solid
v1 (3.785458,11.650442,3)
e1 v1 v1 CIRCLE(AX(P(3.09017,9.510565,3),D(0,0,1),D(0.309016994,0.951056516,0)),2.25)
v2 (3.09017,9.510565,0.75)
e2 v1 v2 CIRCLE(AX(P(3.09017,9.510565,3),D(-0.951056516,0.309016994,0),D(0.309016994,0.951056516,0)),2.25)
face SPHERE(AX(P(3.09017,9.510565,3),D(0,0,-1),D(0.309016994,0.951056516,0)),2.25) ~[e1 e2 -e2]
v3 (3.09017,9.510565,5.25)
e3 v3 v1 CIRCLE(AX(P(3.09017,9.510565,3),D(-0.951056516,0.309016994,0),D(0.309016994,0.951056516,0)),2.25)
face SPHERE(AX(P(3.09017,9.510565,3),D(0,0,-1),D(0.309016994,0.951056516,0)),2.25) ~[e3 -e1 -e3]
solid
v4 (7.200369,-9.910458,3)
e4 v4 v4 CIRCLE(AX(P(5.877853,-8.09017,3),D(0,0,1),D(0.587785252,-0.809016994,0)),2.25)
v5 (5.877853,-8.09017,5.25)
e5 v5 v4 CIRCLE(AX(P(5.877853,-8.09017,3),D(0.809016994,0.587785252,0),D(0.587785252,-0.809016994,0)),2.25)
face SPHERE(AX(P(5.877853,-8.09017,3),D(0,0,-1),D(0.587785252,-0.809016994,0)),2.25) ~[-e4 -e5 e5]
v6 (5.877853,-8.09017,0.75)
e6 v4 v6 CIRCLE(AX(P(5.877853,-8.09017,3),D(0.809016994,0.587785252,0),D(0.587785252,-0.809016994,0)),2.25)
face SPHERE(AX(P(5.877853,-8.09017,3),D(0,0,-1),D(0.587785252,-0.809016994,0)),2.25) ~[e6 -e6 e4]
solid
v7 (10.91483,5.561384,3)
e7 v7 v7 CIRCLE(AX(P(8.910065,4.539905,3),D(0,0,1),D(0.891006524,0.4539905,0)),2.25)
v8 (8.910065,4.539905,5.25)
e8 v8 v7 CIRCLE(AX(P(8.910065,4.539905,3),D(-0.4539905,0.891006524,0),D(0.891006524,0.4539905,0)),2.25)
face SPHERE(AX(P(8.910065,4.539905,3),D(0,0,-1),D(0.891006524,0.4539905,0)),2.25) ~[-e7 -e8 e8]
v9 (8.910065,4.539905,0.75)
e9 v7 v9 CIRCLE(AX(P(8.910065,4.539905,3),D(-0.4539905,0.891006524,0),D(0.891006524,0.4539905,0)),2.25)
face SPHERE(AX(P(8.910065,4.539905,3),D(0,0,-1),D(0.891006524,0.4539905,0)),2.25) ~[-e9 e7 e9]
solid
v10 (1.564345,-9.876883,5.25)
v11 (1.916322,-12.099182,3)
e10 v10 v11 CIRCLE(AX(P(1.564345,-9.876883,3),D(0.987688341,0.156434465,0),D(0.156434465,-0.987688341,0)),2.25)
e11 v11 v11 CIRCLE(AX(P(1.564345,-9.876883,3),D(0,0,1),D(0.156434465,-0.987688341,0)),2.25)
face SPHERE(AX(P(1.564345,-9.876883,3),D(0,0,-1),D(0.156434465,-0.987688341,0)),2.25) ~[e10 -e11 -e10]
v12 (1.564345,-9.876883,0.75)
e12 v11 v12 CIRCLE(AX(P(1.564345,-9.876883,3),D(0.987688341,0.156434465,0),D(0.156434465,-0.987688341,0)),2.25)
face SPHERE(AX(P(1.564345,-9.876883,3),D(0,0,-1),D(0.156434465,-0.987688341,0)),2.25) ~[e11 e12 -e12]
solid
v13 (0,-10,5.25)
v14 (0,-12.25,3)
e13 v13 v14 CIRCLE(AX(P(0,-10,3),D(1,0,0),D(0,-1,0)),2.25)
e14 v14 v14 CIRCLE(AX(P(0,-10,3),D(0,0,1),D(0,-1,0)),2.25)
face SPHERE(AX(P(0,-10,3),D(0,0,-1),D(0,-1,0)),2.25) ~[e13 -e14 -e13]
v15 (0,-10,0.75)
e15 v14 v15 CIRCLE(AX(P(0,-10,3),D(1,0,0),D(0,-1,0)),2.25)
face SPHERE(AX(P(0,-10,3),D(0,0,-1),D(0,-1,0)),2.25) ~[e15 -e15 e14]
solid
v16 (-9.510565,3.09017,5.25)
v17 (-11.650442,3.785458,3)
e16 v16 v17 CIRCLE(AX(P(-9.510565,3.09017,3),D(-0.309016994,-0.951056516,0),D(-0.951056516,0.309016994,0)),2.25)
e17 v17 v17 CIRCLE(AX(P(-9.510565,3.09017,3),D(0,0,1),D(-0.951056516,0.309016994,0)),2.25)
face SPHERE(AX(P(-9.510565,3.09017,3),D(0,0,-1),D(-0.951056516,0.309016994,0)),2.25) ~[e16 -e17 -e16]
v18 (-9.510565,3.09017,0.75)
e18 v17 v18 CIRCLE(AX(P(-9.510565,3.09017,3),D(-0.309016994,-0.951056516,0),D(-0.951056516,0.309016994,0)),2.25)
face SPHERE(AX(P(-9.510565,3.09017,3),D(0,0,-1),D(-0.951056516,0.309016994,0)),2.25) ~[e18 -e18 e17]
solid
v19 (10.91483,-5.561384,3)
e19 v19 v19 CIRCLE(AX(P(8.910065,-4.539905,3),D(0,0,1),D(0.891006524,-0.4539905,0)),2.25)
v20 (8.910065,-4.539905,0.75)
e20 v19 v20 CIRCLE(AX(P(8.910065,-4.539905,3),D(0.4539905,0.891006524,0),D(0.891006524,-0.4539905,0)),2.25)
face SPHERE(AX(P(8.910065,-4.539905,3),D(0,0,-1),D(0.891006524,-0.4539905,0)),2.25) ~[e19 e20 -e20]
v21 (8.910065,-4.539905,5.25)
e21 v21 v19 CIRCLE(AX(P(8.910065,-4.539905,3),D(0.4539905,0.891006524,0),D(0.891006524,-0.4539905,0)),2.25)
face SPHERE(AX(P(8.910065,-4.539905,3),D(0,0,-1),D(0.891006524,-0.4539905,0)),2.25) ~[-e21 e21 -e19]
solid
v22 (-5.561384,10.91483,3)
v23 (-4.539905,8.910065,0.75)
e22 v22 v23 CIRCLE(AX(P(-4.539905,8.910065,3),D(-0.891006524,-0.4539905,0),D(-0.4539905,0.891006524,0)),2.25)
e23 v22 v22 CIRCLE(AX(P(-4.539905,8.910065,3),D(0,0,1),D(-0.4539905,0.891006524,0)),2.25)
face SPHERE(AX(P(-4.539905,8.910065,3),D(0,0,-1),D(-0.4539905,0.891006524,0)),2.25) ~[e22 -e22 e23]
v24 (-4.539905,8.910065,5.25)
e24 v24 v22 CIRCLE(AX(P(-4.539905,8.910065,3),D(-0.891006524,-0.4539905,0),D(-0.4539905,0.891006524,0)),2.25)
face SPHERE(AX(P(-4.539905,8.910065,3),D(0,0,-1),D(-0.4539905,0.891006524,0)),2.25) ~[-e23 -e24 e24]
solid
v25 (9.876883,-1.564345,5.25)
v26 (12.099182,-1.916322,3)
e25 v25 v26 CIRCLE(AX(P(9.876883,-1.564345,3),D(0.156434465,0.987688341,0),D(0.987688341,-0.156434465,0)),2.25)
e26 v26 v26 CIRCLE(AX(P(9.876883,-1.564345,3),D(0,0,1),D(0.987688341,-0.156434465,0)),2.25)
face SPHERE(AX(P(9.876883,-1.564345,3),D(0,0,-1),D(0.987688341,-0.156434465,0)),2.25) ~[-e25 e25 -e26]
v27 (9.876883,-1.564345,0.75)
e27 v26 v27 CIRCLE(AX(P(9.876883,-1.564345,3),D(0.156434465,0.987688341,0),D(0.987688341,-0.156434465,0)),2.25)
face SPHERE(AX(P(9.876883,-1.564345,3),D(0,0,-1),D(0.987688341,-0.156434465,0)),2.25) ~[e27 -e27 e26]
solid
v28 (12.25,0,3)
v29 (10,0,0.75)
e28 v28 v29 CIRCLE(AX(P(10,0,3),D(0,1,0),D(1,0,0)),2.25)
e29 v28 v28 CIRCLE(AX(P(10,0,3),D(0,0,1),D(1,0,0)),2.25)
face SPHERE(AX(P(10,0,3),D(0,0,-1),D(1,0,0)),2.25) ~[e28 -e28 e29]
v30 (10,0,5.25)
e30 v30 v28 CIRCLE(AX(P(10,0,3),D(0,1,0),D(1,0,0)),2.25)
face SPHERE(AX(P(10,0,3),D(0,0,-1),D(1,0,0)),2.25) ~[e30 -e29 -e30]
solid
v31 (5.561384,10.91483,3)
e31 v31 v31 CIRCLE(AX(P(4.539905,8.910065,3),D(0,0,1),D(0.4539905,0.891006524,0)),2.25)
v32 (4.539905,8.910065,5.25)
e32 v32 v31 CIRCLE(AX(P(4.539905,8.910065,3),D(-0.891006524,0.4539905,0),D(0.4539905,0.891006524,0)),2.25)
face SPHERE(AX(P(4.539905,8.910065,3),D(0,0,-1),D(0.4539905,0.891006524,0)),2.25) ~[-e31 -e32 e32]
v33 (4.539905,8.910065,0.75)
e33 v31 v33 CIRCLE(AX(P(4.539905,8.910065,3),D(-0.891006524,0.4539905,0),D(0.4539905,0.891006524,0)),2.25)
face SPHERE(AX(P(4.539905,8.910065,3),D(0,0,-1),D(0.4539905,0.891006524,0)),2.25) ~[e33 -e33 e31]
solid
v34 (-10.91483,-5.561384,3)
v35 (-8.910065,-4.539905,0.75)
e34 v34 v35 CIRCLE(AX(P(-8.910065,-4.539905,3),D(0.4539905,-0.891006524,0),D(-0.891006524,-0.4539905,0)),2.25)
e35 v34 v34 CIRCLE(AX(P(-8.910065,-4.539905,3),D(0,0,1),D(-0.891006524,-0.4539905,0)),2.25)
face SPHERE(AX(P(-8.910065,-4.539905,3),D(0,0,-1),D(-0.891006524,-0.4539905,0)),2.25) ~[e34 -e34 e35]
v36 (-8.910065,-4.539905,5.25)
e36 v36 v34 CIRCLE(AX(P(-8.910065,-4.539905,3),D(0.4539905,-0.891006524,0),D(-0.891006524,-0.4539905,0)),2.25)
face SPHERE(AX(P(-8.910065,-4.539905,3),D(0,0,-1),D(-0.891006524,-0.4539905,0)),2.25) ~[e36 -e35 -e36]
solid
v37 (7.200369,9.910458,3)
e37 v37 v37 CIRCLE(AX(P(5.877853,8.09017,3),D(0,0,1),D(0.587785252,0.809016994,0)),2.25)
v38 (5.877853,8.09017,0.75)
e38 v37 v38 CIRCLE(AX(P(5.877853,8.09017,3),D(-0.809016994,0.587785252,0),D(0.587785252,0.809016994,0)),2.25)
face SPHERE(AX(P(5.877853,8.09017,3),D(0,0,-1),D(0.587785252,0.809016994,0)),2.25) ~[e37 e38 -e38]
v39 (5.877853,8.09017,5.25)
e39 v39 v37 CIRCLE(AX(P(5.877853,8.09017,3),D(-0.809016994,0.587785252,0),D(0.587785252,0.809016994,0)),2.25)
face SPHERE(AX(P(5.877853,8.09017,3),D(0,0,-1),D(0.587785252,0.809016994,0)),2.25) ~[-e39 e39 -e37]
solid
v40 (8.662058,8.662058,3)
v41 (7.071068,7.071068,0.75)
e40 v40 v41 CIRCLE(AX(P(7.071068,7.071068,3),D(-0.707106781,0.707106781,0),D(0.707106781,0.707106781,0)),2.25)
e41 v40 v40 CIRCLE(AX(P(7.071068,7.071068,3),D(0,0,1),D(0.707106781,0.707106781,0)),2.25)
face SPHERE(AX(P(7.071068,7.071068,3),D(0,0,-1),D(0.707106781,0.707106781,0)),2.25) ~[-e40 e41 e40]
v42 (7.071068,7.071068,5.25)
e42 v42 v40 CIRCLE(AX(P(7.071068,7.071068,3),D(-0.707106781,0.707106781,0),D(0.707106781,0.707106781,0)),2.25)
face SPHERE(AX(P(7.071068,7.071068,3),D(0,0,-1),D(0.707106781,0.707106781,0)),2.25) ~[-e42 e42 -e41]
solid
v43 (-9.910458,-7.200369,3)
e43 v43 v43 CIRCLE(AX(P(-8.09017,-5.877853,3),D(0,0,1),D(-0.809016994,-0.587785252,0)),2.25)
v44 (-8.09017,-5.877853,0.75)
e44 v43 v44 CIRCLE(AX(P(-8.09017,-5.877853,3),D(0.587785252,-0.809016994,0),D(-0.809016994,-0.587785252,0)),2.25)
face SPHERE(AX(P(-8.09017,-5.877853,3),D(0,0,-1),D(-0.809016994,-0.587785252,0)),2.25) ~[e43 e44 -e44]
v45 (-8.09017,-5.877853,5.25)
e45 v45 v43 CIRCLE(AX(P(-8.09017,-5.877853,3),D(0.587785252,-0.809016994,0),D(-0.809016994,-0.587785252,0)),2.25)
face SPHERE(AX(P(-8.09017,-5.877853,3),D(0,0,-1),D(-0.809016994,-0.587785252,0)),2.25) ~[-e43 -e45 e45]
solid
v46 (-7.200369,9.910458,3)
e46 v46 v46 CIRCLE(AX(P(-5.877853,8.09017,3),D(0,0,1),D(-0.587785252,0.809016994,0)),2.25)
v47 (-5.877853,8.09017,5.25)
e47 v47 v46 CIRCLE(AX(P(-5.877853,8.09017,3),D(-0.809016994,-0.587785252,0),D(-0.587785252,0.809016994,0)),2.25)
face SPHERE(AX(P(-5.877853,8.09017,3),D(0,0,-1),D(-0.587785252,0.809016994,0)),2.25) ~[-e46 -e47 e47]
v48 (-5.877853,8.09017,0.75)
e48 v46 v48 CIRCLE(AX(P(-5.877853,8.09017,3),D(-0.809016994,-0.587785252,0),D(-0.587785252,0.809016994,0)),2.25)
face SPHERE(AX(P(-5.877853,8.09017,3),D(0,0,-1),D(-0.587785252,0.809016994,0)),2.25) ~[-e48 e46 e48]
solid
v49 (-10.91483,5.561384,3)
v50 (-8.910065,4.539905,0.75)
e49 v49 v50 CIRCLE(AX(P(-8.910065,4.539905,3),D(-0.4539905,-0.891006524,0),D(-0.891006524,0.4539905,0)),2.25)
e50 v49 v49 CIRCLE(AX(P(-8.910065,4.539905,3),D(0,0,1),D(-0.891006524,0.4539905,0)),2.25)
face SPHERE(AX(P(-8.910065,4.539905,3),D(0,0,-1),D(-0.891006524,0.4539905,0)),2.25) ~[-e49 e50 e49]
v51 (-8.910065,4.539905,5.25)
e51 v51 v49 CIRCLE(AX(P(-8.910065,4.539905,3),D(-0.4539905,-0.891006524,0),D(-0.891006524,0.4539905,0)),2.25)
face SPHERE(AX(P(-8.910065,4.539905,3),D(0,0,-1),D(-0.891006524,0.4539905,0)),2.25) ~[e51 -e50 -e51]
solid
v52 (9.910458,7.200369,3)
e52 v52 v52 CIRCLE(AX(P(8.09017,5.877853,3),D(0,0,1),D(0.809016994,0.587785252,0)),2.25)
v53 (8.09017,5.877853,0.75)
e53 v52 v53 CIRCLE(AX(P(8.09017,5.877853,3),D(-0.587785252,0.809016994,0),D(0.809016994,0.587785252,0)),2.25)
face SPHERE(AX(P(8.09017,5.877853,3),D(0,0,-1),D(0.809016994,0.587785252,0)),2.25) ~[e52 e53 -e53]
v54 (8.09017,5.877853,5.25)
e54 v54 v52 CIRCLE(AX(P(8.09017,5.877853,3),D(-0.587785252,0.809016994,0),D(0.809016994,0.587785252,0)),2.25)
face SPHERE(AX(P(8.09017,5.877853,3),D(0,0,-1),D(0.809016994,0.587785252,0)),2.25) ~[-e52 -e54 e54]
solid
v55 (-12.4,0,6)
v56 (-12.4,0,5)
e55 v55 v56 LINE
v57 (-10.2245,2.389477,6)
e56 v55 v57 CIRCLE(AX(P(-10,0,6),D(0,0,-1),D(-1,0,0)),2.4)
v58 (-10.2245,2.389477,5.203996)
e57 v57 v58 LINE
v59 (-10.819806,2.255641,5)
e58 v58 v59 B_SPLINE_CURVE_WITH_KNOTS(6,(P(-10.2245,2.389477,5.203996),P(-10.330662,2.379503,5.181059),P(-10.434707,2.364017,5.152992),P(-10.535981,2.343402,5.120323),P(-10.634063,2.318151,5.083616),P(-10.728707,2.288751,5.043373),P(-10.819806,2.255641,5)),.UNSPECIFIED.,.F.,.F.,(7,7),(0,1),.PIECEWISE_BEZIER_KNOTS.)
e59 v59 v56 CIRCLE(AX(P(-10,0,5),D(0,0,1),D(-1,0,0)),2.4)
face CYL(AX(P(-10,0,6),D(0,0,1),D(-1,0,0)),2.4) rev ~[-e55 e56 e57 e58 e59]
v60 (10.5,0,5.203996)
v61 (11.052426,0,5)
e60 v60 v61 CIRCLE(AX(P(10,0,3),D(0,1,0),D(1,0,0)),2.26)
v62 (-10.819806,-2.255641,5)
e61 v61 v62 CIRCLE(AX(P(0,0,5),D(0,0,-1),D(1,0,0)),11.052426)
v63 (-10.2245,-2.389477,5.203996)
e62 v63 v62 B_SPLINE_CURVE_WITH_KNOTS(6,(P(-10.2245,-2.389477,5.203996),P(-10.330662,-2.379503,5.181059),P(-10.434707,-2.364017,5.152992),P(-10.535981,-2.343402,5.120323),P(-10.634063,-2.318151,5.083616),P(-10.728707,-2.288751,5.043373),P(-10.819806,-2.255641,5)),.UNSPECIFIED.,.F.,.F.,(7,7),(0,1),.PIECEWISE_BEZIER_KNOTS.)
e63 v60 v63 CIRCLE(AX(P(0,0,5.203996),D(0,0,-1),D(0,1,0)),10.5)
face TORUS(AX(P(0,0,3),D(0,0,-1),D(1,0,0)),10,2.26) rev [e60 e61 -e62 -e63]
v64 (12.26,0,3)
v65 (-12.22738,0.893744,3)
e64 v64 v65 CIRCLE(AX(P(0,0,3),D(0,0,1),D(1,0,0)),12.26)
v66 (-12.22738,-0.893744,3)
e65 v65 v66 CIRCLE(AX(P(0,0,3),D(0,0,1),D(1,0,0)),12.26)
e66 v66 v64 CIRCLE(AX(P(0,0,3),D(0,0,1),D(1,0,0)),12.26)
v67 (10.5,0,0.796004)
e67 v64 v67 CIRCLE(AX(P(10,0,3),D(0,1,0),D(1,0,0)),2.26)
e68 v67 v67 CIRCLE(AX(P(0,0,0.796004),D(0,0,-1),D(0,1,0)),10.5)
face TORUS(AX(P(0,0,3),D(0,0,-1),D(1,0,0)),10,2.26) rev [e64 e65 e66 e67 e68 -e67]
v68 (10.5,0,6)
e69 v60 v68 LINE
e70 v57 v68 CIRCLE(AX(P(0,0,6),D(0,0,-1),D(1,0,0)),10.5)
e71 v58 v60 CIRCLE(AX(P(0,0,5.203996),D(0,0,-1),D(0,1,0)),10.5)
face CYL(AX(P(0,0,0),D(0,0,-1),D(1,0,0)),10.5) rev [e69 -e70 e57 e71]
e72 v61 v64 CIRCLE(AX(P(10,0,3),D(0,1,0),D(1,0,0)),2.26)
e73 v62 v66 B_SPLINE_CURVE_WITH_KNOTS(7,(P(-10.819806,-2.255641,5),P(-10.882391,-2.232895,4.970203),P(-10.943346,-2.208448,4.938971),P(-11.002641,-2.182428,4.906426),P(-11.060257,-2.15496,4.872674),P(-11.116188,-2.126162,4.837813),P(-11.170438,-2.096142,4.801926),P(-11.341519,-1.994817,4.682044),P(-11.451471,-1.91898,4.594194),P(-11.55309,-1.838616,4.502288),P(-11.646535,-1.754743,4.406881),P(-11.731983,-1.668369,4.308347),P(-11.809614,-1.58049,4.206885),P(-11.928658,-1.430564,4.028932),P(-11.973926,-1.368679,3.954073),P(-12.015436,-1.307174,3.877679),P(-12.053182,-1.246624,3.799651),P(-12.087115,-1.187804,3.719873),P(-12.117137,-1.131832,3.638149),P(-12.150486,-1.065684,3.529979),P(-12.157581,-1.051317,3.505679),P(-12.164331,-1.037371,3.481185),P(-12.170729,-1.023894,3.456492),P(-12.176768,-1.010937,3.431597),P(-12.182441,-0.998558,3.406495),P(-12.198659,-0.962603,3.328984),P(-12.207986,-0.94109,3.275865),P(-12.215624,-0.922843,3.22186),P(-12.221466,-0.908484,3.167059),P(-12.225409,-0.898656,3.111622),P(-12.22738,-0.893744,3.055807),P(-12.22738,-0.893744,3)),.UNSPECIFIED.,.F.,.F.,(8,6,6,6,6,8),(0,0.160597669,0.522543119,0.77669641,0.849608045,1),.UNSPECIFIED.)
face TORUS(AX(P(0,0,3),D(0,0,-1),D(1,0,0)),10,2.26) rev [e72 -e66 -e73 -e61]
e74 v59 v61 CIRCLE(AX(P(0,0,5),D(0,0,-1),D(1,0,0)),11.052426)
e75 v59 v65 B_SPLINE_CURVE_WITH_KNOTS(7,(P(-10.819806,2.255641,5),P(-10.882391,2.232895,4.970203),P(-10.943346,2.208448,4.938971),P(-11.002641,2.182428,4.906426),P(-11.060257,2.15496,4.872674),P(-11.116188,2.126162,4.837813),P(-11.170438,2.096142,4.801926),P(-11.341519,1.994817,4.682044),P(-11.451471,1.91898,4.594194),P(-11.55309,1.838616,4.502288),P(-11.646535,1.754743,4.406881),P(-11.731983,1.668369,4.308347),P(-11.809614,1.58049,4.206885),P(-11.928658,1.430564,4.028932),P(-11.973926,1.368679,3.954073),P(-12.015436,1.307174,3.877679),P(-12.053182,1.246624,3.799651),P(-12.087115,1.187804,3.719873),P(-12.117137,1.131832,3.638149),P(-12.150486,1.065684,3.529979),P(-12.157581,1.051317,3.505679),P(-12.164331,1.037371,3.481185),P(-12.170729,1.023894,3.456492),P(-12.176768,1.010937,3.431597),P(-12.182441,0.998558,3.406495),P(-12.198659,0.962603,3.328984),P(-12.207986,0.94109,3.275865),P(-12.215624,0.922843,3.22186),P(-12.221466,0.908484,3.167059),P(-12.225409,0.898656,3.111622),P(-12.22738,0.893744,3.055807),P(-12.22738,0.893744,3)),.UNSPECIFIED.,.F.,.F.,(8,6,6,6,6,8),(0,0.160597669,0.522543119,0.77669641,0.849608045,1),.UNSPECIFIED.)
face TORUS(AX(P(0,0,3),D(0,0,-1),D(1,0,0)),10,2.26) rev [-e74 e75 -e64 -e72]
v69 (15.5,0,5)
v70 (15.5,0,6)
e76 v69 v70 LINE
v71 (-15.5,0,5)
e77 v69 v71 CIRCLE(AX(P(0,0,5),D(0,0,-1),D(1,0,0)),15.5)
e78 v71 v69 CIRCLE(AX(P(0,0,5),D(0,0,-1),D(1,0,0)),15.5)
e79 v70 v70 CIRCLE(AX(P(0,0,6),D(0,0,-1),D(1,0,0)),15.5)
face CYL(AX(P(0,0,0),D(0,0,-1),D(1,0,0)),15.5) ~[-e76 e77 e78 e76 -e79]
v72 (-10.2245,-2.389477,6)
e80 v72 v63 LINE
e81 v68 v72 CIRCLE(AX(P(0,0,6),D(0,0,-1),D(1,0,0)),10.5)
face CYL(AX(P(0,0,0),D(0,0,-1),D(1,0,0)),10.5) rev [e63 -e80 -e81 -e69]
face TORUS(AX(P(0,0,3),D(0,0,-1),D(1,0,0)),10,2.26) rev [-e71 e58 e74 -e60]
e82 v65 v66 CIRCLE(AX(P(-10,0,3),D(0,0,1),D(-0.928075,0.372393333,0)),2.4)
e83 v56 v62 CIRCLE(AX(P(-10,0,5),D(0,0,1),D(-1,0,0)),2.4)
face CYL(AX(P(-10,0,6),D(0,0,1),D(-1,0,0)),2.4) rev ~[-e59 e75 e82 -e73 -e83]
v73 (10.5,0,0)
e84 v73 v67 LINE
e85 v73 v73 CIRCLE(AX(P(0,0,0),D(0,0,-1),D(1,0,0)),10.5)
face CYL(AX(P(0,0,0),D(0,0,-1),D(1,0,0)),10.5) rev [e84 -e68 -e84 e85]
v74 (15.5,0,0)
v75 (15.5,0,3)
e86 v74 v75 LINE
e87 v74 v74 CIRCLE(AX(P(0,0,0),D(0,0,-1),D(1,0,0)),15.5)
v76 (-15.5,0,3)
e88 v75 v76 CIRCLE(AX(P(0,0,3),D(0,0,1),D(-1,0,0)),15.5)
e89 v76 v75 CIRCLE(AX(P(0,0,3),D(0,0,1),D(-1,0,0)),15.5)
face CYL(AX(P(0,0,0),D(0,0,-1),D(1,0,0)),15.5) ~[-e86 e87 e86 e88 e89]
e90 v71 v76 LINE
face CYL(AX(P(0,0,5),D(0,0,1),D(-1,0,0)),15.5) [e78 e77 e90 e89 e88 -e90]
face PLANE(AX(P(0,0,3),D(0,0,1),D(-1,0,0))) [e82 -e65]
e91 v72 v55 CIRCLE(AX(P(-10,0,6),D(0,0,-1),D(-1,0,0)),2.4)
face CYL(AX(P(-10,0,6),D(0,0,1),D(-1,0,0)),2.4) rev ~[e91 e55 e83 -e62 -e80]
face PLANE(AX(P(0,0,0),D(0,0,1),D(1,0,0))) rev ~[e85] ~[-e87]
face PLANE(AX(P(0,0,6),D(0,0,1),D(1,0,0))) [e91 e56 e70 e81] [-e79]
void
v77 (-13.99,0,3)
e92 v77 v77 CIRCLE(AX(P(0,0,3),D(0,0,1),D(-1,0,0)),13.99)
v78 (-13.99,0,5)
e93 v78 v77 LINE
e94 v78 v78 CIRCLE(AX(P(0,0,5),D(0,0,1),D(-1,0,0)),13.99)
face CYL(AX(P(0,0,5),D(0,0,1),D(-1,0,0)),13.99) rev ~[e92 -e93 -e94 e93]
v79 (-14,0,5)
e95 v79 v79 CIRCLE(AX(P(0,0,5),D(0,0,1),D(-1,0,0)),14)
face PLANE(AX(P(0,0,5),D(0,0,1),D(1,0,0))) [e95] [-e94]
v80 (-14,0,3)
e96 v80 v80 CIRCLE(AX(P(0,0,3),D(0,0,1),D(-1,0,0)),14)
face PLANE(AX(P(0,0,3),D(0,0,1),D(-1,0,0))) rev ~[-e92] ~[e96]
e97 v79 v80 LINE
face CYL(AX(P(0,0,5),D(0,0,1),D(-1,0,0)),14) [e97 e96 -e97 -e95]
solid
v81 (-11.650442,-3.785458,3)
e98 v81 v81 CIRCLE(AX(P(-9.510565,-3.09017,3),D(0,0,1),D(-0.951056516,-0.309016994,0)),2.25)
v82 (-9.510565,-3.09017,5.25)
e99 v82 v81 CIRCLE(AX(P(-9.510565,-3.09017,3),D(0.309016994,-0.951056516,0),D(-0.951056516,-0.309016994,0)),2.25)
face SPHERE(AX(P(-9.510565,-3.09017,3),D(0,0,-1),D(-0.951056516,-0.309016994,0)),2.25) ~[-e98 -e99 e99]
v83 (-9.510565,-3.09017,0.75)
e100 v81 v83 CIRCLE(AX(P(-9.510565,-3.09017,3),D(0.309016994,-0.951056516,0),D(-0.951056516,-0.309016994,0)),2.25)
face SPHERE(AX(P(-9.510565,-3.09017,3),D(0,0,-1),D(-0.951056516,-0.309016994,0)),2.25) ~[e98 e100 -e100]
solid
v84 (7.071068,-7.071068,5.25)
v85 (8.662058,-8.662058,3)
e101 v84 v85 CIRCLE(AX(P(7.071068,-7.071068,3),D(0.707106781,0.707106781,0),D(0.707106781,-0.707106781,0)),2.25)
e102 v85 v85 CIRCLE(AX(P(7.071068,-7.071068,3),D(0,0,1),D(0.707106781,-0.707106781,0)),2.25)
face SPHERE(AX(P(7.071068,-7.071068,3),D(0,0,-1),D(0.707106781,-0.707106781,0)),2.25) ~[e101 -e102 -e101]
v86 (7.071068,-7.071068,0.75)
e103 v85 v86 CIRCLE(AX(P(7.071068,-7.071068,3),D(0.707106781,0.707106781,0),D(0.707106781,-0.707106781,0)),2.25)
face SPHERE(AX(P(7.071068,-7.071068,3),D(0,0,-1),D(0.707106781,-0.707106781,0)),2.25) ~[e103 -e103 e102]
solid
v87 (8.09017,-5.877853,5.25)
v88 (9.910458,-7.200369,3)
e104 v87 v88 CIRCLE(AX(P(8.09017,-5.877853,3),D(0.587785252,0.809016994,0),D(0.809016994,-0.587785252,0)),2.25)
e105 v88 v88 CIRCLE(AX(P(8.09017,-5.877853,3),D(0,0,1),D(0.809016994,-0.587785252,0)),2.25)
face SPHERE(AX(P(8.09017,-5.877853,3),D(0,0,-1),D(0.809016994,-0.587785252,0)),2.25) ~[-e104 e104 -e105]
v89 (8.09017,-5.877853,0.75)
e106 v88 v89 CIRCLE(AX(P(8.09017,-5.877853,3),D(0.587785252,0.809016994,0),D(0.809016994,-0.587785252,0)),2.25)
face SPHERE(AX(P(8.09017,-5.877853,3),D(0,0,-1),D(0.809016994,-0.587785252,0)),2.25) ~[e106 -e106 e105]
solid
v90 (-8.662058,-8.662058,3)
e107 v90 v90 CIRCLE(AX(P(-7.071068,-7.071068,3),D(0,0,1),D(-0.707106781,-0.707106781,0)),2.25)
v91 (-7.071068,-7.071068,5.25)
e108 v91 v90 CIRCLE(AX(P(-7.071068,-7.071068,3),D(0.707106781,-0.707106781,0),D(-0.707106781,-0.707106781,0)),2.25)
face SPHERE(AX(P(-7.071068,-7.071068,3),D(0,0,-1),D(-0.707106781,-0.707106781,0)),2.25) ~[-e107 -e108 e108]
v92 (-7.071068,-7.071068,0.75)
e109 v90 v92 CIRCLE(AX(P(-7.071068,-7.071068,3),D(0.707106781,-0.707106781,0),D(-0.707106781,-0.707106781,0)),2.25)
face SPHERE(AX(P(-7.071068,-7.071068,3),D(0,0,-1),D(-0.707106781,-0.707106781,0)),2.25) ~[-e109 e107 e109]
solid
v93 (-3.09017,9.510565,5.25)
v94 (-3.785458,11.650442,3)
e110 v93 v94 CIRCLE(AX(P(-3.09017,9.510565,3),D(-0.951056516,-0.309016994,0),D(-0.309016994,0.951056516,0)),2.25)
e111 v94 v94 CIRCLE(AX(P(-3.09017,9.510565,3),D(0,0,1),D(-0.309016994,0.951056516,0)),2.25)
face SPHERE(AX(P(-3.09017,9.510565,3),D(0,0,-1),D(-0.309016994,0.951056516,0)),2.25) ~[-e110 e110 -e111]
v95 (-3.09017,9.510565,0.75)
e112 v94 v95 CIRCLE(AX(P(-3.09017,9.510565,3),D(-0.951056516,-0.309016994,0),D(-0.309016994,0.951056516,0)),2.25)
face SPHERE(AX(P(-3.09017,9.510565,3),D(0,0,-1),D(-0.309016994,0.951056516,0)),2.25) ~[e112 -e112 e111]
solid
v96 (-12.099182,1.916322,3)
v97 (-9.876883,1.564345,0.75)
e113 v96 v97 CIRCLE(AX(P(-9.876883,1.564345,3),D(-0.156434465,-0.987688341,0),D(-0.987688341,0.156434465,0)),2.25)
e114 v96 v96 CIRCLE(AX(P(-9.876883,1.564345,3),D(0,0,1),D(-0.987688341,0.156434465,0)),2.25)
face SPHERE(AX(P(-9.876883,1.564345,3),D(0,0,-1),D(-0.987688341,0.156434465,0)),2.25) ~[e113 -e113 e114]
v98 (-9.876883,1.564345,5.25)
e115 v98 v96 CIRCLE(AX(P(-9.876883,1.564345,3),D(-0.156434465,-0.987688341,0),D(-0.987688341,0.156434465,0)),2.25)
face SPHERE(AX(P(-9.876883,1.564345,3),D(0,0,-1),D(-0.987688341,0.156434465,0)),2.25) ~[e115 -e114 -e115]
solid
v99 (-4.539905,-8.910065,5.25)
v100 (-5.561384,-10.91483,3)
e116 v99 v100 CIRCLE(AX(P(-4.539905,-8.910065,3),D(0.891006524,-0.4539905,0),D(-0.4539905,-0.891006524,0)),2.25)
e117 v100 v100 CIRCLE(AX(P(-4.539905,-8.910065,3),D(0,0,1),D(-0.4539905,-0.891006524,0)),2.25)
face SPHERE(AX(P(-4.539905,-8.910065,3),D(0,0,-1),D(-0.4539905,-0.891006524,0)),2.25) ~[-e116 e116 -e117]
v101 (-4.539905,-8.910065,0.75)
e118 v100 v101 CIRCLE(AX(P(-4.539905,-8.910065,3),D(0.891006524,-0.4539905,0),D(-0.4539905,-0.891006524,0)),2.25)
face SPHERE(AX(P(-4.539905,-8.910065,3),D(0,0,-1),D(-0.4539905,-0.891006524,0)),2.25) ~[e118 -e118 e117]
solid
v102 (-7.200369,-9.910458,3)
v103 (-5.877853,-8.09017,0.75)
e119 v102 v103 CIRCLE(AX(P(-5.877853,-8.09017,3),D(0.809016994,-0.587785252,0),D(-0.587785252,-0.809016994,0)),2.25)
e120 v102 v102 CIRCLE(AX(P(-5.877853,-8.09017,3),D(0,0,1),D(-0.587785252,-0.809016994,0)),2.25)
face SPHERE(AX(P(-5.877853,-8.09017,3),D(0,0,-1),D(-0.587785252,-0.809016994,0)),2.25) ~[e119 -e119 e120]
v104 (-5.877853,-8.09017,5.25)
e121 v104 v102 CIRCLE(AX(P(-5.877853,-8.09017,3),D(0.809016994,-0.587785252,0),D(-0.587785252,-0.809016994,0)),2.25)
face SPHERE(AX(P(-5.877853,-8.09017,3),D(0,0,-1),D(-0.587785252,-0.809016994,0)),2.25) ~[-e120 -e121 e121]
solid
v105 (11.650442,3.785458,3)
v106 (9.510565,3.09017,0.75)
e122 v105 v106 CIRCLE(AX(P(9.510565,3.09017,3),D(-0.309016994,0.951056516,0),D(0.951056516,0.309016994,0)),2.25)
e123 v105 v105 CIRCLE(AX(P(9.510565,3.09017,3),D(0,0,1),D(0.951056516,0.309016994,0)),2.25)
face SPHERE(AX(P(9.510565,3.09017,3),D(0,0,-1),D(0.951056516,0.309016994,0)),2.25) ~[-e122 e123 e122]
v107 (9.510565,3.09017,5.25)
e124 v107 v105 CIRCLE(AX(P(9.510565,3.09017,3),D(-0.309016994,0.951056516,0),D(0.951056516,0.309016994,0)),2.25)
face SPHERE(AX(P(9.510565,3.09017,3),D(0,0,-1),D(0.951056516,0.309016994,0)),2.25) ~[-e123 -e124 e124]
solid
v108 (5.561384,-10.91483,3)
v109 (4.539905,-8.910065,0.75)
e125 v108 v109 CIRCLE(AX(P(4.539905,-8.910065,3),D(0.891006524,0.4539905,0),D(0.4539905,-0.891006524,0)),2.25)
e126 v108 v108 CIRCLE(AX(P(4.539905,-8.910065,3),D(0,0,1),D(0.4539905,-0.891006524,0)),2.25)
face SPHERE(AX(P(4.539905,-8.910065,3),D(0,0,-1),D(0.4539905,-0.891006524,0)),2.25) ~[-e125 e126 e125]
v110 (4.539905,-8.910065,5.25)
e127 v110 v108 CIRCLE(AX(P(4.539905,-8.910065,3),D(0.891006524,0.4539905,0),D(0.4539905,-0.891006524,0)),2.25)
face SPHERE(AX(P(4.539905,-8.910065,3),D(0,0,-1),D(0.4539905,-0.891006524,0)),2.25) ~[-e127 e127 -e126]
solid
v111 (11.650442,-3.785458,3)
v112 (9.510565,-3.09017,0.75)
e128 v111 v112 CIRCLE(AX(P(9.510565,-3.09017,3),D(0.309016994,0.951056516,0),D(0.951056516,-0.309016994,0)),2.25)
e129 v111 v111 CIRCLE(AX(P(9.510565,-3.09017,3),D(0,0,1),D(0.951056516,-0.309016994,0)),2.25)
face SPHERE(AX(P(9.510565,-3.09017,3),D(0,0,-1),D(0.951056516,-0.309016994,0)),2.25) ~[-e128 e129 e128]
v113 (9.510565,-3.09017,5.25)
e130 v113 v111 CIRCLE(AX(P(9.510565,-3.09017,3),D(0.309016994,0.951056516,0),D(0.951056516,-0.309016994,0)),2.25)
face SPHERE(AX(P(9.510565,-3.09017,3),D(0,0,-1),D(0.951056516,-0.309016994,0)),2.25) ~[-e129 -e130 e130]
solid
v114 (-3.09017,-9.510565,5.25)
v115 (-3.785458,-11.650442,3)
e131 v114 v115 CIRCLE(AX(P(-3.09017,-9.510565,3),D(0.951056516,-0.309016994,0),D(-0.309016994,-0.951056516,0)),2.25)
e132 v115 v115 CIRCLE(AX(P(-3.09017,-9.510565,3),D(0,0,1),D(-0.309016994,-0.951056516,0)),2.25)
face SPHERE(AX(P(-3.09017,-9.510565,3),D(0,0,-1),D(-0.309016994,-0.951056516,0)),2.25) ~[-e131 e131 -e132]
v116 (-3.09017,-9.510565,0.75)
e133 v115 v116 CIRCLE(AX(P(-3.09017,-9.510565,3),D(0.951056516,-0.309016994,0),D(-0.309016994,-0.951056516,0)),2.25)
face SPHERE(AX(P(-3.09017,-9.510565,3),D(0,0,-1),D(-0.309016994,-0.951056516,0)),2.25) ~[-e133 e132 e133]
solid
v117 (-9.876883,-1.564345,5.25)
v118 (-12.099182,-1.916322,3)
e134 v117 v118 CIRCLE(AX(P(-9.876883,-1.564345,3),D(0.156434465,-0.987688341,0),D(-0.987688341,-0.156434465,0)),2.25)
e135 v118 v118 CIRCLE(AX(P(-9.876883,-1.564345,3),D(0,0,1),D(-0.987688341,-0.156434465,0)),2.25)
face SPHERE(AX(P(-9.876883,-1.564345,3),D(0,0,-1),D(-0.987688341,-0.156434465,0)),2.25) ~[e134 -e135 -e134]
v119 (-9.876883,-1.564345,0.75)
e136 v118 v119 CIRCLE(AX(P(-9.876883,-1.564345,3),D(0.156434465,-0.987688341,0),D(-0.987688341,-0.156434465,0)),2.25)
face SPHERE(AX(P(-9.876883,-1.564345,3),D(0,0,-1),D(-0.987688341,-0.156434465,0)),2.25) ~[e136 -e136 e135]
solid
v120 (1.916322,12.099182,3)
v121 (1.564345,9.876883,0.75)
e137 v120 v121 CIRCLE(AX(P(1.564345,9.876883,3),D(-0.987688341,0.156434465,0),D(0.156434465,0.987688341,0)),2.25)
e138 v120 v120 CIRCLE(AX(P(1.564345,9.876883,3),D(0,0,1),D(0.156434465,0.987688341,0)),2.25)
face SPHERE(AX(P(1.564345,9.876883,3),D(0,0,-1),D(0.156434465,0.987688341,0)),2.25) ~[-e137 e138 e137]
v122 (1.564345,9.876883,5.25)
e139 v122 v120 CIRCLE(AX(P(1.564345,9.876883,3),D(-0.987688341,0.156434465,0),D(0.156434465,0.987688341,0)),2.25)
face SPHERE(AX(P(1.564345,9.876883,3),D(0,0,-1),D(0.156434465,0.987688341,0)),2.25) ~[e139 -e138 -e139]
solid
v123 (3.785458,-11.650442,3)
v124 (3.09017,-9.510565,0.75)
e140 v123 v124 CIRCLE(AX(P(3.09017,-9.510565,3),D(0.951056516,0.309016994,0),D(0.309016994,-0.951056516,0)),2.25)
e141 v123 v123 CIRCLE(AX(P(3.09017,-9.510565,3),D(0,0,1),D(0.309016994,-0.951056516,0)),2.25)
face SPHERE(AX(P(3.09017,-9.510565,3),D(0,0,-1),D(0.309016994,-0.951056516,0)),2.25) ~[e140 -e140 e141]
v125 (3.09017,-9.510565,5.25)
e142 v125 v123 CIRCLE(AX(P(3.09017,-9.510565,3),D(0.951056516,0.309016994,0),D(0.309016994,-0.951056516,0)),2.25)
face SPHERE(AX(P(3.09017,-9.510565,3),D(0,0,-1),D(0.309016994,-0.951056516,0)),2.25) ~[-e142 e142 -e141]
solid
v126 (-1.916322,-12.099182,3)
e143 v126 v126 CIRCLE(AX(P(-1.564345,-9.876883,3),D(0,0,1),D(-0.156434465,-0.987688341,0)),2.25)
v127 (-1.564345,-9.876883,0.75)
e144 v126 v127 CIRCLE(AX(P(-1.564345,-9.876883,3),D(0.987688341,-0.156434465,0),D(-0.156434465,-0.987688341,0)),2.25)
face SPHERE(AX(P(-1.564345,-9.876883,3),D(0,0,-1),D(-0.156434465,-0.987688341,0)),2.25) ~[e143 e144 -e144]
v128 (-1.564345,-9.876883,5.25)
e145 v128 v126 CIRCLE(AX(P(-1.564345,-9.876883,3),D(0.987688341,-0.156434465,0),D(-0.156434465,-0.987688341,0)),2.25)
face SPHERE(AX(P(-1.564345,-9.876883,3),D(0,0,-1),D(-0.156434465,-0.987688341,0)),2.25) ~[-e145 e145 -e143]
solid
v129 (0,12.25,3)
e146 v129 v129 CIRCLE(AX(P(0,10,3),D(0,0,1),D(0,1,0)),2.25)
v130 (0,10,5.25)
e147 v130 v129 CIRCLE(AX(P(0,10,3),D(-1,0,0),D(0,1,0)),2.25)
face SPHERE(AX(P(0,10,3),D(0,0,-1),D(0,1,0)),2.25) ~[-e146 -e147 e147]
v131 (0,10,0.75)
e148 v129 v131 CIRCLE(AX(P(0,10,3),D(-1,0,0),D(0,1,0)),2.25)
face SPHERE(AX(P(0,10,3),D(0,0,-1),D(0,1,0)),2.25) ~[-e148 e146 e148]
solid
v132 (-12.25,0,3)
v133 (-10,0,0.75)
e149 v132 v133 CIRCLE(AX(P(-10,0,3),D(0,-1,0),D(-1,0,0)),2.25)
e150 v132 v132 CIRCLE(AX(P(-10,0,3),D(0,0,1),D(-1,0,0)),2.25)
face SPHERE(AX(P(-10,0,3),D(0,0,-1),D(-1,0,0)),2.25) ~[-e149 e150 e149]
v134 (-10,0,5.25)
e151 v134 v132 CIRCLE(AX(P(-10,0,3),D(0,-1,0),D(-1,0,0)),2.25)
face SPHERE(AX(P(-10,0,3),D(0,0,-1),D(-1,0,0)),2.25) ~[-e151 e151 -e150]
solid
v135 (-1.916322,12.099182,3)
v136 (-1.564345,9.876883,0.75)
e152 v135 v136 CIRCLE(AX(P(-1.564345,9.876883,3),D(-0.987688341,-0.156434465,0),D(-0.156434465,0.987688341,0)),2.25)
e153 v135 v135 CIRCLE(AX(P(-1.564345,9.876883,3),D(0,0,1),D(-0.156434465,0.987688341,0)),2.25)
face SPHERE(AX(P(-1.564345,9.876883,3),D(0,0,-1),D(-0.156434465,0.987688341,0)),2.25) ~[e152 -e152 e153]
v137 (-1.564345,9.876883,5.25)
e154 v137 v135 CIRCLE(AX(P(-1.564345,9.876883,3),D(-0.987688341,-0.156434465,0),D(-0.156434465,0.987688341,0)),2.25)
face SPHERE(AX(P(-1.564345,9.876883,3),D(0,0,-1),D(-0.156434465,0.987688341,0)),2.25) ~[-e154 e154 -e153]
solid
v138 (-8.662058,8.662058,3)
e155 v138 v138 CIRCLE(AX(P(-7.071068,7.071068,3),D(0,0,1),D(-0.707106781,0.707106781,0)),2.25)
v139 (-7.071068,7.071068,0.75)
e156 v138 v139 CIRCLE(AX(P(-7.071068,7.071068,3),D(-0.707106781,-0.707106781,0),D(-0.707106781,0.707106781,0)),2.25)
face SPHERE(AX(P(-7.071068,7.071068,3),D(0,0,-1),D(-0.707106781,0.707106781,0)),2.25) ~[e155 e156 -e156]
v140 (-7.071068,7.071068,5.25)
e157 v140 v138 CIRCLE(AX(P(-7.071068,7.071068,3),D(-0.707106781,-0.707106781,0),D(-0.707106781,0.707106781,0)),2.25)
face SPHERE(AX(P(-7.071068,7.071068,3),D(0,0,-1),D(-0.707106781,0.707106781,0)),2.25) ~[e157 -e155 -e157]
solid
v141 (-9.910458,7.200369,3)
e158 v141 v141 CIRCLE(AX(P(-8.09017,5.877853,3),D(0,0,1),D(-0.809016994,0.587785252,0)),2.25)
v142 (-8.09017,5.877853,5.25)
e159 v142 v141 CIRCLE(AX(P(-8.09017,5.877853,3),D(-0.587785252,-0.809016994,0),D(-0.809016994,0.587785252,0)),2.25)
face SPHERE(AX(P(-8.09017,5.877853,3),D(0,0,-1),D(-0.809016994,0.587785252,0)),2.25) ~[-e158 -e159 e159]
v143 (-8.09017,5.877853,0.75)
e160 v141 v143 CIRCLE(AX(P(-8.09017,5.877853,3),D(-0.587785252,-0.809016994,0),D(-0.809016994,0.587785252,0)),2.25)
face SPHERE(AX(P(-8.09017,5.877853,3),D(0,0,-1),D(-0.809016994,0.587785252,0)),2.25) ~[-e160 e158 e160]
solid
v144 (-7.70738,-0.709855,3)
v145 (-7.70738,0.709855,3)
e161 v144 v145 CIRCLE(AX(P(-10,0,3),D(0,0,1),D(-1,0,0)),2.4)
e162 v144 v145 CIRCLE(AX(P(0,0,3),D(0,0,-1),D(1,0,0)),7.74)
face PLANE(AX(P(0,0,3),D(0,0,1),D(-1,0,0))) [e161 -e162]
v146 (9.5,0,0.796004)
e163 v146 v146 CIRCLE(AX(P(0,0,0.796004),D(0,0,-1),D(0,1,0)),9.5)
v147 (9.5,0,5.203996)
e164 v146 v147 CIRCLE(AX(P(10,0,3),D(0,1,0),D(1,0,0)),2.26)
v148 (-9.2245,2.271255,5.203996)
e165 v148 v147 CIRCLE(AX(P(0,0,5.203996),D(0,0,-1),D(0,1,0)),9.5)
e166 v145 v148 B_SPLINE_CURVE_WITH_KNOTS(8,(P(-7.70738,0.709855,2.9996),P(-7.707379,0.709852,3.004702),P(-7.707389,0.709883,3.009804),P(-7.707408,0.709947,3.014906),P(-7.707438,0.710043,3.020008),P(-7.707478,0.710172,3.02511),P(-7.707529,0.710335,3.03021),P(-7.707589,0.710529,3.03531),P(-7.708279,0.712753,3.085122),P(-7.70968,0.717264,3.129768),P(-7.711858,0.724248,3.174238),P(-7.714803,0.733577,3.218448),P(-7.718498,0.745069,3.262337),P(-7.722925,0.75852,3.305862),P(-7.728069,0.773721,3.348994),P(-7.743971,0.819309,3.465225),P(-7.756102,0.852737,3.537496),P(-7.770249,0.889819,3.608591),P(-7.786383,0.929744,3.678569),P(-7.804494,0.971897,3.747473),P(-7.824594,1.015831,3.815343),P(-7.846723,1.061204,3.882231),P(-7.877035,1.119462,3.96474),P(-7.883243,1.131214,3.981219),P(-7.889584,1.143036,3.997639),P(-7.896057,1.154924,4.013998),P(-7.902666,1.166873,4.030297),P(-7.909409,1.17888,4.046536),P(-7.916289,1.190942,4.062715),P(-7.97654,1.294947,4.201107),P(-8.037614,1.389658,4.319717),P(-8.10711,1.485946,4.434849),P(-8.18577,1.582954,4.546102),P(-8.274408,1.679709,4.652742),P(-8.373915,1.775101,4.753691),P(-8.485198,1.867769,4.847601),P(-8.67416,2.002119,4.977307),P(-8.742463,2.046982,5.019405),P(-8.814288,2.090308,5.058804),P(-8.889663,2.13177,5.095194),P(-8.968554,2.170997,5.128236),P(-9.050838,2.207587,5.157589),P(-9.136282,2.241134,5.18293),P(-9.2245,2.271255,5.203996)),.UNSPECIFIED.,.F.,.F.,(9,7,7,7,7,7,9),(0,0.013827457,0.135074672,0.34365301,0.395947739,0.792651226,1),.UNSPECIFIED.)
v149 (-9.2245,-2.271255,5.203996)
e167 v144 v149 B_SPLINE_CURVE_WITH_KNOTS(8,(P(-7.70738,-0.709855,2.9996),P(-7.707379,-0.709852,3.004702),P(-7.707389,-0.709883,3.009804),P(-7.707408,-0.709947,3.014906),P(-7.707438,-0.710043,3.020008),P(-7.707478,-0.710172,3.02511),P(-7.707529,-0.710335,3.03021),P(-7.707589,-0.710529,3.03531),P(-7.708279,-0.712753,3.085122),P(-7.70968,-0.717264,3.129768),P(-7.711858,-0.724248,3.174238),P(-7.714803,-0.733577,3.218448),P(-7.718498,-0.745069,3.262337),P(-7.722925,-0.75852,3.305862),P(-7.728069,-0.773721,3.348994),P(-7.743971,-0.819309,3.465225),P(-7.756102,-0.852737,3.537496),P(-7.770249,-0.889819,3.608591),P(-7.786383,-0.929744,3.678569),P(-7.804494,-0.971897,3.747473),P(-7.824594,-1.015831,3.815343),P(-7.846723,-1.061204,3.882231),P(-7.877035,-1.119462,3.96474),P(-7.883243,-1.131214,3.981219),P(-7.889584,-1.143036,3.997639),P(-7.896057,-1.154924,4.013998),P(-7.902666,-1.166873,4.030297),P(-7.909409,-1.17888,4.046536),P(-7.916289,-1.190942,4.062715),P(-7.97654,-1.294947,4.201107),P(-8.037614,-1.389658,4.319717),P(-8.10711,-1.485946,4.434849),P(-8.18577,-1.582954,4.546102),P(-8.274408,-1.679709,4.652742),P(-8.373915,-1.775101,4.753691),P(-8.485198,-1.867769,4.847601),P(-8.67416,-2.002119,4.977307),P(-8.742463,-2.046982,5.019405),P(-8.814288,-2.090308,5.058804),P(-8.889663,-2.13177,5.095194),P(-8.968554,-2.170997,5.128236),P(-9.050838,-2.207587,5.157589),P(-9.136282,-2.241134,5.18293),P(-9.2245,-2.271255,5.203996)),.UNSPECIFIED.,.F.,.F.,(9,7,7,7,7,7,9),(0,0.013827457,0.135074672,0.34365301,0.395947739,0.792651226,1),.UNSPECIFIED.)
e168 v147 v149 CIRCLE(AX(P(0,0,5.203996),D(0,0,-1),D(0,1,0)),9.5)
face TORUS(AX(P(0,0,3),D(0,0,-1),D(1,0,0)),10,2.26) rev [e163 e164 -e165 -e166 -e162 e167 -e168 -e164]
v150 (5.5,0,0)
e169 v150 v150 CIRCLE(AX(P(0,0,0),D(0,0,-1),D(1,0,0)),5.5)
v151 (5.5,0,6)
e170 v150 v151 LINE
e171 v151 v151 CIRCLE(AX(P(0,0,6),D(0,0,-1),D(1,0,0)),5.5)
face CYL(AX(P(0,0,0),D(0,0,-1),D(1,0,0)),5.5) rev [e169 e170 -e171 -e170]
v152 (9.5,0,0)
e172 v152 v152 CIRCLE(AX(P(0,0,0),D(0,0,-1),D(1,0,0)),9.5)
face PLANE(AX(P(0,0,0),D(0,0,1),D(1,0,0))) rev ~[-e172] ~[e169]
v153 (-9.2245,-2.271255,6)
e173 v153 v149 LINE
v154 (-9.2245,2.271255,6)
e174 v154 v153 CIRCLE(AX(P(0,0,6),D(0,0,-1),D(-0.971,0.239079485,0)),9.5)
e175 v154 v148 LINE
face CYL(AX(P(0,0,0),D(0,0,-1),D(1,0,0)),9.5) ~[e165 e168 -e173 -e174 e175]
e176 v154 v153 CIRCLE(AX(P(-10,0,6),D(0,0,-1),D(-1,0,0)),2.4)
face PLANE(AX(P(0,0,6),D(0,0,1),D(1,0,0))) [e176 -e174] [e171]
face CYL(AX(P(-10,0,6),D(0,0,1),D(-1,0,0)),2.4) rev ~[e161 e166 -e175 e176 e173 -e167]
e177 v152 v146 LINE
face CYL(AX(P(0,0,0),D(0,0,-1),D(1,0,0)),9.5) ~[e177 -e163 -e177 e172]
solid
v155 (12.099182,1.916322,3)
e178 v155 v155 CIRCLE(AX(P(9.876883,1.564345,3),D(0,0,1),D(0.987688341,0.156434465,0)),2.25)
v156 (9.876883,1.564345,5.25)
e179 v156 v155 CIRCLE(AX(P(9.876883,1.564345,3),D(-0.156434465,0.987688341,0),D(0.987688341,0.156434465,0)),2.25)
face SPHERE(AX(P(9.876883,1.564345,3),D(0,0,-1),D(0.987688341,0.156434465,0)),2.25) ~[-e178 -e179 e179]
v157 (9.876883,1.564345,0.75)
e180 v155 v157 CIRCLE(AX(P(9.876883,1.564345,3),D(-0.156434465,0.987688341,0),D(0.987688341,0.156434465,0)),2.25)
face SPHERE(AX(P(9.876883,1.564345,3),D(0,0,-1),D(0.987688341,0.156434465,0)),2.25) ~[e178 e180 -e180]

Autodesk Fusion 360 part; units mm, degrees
sketch "Sketch4" plane through (0, 0, 6) normal (0, 0, 1) x (-1, 0, 0)
  circle A0 centre (0, 0) radius 10.5
  circle A1 centre (0, 0) radius 15.5
  circle A2 centre (0, 0) radius 10 construction
  circle A3 centre (10, 0) radius 2.4
  dimension "d1" = 4.8
sketch "Sketch1" plane through (0, 0, 0) normal (0, 0, 1) x (1, 0, 0)
  circle A0 centre (0, 0) radius 5.5
  circle A1 centre (0, 0) radius 9.5
  circle A2 centre (0, 0) radius 10 construction
  circle A3 centre (0, 0) radius 10.5
  circle A4 centre (0, 0) radius 15.5
  dimension "Gap" = 0.5
  dimension "d4" = 0.5
  dimension "bearingPCD" = 20
  dimension "pcdToID" = 4.5
  dimension "pcdToOD" = 5.5
extrude "Extrude1" add sketch "Sketch1" along normal blind 6 makes body 1 at (9.4882, -0.4735, 4) makes body 2 at (15.4807, -0.7726, 4)
sketch "Sketch2" plane through (0, 0, 0) normal (0, 1, 0) x (1, 0, 0)
  line L0 (-10, 0) -> (10, 0)
  line L1 (10, 0) -> (10, -3) construction
  circle A0 centre (10, -3) radius 2.25
  line L2 (10, 0) -> (10, -5.25)
  dimension "d9" = 3
  dimension "balldiameter" = 4.5
revolve "Revolve1" cut sketch "Sketch2" angle 360 about axis through (0, 0, 1.75) along (0, 0, 1) bodies 1 2
ref_plane "WorkPlane1" through (0, 0, 5) normal (0, 0, 1) x (1, 0, 0)
split "Split1" by plane through (0, 0, 5) normal (0, 0, 1) bodies 2 makes body 3 at (13.7756, -0.7701, 6)
sketch "Sketch3" plane through (0, 0, 5) normal (0, 0, 1) x (-1, 0, 0)
  circle A0 centre (0, 0) radius 11.0308
  circle A1 centre (0, 0) radius 15.5
  circle A2 centre (0, 0) radius 14
  circle A3 centre (0, 0) radius 15.5
  dimension "d21" = 1.5
extrude "Extrude2" cut sketch "Sketch3" against normal blind 2 contours A1 A3 bodies 2
extrude "Extrude3" add sketch "Sketch3" against normal blind 2 contours A1 A3 bodies 3
revolve "Revolve1'" add sketch "Sketch2" angle 360 about axis through (10, 0, 0) along (0, 0, 1) separate body contours A0 L2 picked at (10.6309, -2.5945) makes body 4 in component "Balls"
pattern_circular "C-Pattern1" count 40 over 360 about axis through (0, 0, 1.75) along (0, 0, 1) of bodies 4 makes body 5 at (8.473, 3.298, 2.7063) makes body 6 at (7.8528, 4.5828, 2.7063) makes body 7 at (8.7933, 2.3122, 2.7063) makes body 8 at (8.3233, 3.6593, 2.7063) makes body 9 at (7.6484, 4.9163, 2.7063) makes body 10 at (8.0964, 7.857, 2.7063) makes body 11 at (6.7676, 9.0268, 2.7063) makes body 12 at (0.9082, 9.0468, 2.7063) makes body 13 at (3.298, 8.473, 2.7063) makes body 14 at (-1.9319, 11.1154, 2.7063) makes body 15 at (0.1693, 11.2807, 2.7063) makes body 16 at (-4.5828, 7.8528, 2.7063) makes body 17 at (-2.3122, 8.7933, 2.7063) makes body 18 at (-3.6593, 8.3233, 2.7063) makes body 19 at (-4.9163, 7.6484, 2.7063) makes body 20 at (-8.3233, 3.6593, 2.7063) makes body 21 at (-9.0268, 6.7676, 2.7063) makes body 22 at (-7.8528, 4.5828, 2.7063) makes body 23 at (-9.0775, -0.5182, 2.7063) makes body 24 at (-8.8846, 1.9319, 2.7063) makes body 25 at (-11.2807, 0.1693, 2.7063) makes body 26 at (-9.9744, -5.2722, 2.7063) makes body 27 at (-9.0268, -6.7676, 2.7063) makes body 28 at (-8.3233, -3.6593, 2.7063) makes body 29 at (-7.6484, -4.9163, 2.7063) makes body 30 at (-3.6593, -8.3233, 2.7063) makes body 31 at (-5.7549, -7.0392, 2.7063) makes body 32 at (-0.9082, -9.0468, 2.7063) makes body 33 at (-3.298, -8.473, 2.7063) makes body 34 at (-1.9319, -8.8846, 2.7063) makes body 35 at (-0.1693, -11.2807, 2.7063) makes body 36 at (1.5975, -11.1683, 2.7063) makes body 37 at (6.7676, -9.0268, 2.7063) makes body 38 at (4.9705, -10.1281, 2.7063) makes body 39 at (4.9163, -7.6484, 2.7063) makes body 40 at (8.3233, -3.6593, 2.7063) makes body 41 at (7.0392, -5.7549, 2.7063) makes body 42 at (7.8528, -4.5828, 2.7063) makes body 43 at (8.473, -3.298, 2.7063) in component "Balls"
move_face "OffsetFaces2" offset -0.01 5 faces at (12.0992, -0.6038, 2.2303) (-7.0845, -9.8539, 3.7064) (-13.9304, 1.3939, 4.3333) (9.3796, 0.4681, 0.8339) (10.9199, 1.0927, 5.0281) on bodies 1 2 3
extrude "Extrude4" cut sketch "Sketch4" against normal blind 3 contours A0 A3 | A0 A3 picked at (9.5749, -0.5508) picked at (11.0884, -0.5005) bodies 1 3 2
combine "Combine1" operation add target body 3 tool bodies 2
component "Balls" placed x (1, 0, 0) y (0, 1, 0) z (0, 0, 1) at (0, 0, 0)
equation "d4 = Gap"
equation "height = 6 mm"
equation "d9 = height / 2"
equation "offset = -0.01 mm"
equation "d48 = -height / 2"
equation "d1 = balldiameter + 0.3 mm"
